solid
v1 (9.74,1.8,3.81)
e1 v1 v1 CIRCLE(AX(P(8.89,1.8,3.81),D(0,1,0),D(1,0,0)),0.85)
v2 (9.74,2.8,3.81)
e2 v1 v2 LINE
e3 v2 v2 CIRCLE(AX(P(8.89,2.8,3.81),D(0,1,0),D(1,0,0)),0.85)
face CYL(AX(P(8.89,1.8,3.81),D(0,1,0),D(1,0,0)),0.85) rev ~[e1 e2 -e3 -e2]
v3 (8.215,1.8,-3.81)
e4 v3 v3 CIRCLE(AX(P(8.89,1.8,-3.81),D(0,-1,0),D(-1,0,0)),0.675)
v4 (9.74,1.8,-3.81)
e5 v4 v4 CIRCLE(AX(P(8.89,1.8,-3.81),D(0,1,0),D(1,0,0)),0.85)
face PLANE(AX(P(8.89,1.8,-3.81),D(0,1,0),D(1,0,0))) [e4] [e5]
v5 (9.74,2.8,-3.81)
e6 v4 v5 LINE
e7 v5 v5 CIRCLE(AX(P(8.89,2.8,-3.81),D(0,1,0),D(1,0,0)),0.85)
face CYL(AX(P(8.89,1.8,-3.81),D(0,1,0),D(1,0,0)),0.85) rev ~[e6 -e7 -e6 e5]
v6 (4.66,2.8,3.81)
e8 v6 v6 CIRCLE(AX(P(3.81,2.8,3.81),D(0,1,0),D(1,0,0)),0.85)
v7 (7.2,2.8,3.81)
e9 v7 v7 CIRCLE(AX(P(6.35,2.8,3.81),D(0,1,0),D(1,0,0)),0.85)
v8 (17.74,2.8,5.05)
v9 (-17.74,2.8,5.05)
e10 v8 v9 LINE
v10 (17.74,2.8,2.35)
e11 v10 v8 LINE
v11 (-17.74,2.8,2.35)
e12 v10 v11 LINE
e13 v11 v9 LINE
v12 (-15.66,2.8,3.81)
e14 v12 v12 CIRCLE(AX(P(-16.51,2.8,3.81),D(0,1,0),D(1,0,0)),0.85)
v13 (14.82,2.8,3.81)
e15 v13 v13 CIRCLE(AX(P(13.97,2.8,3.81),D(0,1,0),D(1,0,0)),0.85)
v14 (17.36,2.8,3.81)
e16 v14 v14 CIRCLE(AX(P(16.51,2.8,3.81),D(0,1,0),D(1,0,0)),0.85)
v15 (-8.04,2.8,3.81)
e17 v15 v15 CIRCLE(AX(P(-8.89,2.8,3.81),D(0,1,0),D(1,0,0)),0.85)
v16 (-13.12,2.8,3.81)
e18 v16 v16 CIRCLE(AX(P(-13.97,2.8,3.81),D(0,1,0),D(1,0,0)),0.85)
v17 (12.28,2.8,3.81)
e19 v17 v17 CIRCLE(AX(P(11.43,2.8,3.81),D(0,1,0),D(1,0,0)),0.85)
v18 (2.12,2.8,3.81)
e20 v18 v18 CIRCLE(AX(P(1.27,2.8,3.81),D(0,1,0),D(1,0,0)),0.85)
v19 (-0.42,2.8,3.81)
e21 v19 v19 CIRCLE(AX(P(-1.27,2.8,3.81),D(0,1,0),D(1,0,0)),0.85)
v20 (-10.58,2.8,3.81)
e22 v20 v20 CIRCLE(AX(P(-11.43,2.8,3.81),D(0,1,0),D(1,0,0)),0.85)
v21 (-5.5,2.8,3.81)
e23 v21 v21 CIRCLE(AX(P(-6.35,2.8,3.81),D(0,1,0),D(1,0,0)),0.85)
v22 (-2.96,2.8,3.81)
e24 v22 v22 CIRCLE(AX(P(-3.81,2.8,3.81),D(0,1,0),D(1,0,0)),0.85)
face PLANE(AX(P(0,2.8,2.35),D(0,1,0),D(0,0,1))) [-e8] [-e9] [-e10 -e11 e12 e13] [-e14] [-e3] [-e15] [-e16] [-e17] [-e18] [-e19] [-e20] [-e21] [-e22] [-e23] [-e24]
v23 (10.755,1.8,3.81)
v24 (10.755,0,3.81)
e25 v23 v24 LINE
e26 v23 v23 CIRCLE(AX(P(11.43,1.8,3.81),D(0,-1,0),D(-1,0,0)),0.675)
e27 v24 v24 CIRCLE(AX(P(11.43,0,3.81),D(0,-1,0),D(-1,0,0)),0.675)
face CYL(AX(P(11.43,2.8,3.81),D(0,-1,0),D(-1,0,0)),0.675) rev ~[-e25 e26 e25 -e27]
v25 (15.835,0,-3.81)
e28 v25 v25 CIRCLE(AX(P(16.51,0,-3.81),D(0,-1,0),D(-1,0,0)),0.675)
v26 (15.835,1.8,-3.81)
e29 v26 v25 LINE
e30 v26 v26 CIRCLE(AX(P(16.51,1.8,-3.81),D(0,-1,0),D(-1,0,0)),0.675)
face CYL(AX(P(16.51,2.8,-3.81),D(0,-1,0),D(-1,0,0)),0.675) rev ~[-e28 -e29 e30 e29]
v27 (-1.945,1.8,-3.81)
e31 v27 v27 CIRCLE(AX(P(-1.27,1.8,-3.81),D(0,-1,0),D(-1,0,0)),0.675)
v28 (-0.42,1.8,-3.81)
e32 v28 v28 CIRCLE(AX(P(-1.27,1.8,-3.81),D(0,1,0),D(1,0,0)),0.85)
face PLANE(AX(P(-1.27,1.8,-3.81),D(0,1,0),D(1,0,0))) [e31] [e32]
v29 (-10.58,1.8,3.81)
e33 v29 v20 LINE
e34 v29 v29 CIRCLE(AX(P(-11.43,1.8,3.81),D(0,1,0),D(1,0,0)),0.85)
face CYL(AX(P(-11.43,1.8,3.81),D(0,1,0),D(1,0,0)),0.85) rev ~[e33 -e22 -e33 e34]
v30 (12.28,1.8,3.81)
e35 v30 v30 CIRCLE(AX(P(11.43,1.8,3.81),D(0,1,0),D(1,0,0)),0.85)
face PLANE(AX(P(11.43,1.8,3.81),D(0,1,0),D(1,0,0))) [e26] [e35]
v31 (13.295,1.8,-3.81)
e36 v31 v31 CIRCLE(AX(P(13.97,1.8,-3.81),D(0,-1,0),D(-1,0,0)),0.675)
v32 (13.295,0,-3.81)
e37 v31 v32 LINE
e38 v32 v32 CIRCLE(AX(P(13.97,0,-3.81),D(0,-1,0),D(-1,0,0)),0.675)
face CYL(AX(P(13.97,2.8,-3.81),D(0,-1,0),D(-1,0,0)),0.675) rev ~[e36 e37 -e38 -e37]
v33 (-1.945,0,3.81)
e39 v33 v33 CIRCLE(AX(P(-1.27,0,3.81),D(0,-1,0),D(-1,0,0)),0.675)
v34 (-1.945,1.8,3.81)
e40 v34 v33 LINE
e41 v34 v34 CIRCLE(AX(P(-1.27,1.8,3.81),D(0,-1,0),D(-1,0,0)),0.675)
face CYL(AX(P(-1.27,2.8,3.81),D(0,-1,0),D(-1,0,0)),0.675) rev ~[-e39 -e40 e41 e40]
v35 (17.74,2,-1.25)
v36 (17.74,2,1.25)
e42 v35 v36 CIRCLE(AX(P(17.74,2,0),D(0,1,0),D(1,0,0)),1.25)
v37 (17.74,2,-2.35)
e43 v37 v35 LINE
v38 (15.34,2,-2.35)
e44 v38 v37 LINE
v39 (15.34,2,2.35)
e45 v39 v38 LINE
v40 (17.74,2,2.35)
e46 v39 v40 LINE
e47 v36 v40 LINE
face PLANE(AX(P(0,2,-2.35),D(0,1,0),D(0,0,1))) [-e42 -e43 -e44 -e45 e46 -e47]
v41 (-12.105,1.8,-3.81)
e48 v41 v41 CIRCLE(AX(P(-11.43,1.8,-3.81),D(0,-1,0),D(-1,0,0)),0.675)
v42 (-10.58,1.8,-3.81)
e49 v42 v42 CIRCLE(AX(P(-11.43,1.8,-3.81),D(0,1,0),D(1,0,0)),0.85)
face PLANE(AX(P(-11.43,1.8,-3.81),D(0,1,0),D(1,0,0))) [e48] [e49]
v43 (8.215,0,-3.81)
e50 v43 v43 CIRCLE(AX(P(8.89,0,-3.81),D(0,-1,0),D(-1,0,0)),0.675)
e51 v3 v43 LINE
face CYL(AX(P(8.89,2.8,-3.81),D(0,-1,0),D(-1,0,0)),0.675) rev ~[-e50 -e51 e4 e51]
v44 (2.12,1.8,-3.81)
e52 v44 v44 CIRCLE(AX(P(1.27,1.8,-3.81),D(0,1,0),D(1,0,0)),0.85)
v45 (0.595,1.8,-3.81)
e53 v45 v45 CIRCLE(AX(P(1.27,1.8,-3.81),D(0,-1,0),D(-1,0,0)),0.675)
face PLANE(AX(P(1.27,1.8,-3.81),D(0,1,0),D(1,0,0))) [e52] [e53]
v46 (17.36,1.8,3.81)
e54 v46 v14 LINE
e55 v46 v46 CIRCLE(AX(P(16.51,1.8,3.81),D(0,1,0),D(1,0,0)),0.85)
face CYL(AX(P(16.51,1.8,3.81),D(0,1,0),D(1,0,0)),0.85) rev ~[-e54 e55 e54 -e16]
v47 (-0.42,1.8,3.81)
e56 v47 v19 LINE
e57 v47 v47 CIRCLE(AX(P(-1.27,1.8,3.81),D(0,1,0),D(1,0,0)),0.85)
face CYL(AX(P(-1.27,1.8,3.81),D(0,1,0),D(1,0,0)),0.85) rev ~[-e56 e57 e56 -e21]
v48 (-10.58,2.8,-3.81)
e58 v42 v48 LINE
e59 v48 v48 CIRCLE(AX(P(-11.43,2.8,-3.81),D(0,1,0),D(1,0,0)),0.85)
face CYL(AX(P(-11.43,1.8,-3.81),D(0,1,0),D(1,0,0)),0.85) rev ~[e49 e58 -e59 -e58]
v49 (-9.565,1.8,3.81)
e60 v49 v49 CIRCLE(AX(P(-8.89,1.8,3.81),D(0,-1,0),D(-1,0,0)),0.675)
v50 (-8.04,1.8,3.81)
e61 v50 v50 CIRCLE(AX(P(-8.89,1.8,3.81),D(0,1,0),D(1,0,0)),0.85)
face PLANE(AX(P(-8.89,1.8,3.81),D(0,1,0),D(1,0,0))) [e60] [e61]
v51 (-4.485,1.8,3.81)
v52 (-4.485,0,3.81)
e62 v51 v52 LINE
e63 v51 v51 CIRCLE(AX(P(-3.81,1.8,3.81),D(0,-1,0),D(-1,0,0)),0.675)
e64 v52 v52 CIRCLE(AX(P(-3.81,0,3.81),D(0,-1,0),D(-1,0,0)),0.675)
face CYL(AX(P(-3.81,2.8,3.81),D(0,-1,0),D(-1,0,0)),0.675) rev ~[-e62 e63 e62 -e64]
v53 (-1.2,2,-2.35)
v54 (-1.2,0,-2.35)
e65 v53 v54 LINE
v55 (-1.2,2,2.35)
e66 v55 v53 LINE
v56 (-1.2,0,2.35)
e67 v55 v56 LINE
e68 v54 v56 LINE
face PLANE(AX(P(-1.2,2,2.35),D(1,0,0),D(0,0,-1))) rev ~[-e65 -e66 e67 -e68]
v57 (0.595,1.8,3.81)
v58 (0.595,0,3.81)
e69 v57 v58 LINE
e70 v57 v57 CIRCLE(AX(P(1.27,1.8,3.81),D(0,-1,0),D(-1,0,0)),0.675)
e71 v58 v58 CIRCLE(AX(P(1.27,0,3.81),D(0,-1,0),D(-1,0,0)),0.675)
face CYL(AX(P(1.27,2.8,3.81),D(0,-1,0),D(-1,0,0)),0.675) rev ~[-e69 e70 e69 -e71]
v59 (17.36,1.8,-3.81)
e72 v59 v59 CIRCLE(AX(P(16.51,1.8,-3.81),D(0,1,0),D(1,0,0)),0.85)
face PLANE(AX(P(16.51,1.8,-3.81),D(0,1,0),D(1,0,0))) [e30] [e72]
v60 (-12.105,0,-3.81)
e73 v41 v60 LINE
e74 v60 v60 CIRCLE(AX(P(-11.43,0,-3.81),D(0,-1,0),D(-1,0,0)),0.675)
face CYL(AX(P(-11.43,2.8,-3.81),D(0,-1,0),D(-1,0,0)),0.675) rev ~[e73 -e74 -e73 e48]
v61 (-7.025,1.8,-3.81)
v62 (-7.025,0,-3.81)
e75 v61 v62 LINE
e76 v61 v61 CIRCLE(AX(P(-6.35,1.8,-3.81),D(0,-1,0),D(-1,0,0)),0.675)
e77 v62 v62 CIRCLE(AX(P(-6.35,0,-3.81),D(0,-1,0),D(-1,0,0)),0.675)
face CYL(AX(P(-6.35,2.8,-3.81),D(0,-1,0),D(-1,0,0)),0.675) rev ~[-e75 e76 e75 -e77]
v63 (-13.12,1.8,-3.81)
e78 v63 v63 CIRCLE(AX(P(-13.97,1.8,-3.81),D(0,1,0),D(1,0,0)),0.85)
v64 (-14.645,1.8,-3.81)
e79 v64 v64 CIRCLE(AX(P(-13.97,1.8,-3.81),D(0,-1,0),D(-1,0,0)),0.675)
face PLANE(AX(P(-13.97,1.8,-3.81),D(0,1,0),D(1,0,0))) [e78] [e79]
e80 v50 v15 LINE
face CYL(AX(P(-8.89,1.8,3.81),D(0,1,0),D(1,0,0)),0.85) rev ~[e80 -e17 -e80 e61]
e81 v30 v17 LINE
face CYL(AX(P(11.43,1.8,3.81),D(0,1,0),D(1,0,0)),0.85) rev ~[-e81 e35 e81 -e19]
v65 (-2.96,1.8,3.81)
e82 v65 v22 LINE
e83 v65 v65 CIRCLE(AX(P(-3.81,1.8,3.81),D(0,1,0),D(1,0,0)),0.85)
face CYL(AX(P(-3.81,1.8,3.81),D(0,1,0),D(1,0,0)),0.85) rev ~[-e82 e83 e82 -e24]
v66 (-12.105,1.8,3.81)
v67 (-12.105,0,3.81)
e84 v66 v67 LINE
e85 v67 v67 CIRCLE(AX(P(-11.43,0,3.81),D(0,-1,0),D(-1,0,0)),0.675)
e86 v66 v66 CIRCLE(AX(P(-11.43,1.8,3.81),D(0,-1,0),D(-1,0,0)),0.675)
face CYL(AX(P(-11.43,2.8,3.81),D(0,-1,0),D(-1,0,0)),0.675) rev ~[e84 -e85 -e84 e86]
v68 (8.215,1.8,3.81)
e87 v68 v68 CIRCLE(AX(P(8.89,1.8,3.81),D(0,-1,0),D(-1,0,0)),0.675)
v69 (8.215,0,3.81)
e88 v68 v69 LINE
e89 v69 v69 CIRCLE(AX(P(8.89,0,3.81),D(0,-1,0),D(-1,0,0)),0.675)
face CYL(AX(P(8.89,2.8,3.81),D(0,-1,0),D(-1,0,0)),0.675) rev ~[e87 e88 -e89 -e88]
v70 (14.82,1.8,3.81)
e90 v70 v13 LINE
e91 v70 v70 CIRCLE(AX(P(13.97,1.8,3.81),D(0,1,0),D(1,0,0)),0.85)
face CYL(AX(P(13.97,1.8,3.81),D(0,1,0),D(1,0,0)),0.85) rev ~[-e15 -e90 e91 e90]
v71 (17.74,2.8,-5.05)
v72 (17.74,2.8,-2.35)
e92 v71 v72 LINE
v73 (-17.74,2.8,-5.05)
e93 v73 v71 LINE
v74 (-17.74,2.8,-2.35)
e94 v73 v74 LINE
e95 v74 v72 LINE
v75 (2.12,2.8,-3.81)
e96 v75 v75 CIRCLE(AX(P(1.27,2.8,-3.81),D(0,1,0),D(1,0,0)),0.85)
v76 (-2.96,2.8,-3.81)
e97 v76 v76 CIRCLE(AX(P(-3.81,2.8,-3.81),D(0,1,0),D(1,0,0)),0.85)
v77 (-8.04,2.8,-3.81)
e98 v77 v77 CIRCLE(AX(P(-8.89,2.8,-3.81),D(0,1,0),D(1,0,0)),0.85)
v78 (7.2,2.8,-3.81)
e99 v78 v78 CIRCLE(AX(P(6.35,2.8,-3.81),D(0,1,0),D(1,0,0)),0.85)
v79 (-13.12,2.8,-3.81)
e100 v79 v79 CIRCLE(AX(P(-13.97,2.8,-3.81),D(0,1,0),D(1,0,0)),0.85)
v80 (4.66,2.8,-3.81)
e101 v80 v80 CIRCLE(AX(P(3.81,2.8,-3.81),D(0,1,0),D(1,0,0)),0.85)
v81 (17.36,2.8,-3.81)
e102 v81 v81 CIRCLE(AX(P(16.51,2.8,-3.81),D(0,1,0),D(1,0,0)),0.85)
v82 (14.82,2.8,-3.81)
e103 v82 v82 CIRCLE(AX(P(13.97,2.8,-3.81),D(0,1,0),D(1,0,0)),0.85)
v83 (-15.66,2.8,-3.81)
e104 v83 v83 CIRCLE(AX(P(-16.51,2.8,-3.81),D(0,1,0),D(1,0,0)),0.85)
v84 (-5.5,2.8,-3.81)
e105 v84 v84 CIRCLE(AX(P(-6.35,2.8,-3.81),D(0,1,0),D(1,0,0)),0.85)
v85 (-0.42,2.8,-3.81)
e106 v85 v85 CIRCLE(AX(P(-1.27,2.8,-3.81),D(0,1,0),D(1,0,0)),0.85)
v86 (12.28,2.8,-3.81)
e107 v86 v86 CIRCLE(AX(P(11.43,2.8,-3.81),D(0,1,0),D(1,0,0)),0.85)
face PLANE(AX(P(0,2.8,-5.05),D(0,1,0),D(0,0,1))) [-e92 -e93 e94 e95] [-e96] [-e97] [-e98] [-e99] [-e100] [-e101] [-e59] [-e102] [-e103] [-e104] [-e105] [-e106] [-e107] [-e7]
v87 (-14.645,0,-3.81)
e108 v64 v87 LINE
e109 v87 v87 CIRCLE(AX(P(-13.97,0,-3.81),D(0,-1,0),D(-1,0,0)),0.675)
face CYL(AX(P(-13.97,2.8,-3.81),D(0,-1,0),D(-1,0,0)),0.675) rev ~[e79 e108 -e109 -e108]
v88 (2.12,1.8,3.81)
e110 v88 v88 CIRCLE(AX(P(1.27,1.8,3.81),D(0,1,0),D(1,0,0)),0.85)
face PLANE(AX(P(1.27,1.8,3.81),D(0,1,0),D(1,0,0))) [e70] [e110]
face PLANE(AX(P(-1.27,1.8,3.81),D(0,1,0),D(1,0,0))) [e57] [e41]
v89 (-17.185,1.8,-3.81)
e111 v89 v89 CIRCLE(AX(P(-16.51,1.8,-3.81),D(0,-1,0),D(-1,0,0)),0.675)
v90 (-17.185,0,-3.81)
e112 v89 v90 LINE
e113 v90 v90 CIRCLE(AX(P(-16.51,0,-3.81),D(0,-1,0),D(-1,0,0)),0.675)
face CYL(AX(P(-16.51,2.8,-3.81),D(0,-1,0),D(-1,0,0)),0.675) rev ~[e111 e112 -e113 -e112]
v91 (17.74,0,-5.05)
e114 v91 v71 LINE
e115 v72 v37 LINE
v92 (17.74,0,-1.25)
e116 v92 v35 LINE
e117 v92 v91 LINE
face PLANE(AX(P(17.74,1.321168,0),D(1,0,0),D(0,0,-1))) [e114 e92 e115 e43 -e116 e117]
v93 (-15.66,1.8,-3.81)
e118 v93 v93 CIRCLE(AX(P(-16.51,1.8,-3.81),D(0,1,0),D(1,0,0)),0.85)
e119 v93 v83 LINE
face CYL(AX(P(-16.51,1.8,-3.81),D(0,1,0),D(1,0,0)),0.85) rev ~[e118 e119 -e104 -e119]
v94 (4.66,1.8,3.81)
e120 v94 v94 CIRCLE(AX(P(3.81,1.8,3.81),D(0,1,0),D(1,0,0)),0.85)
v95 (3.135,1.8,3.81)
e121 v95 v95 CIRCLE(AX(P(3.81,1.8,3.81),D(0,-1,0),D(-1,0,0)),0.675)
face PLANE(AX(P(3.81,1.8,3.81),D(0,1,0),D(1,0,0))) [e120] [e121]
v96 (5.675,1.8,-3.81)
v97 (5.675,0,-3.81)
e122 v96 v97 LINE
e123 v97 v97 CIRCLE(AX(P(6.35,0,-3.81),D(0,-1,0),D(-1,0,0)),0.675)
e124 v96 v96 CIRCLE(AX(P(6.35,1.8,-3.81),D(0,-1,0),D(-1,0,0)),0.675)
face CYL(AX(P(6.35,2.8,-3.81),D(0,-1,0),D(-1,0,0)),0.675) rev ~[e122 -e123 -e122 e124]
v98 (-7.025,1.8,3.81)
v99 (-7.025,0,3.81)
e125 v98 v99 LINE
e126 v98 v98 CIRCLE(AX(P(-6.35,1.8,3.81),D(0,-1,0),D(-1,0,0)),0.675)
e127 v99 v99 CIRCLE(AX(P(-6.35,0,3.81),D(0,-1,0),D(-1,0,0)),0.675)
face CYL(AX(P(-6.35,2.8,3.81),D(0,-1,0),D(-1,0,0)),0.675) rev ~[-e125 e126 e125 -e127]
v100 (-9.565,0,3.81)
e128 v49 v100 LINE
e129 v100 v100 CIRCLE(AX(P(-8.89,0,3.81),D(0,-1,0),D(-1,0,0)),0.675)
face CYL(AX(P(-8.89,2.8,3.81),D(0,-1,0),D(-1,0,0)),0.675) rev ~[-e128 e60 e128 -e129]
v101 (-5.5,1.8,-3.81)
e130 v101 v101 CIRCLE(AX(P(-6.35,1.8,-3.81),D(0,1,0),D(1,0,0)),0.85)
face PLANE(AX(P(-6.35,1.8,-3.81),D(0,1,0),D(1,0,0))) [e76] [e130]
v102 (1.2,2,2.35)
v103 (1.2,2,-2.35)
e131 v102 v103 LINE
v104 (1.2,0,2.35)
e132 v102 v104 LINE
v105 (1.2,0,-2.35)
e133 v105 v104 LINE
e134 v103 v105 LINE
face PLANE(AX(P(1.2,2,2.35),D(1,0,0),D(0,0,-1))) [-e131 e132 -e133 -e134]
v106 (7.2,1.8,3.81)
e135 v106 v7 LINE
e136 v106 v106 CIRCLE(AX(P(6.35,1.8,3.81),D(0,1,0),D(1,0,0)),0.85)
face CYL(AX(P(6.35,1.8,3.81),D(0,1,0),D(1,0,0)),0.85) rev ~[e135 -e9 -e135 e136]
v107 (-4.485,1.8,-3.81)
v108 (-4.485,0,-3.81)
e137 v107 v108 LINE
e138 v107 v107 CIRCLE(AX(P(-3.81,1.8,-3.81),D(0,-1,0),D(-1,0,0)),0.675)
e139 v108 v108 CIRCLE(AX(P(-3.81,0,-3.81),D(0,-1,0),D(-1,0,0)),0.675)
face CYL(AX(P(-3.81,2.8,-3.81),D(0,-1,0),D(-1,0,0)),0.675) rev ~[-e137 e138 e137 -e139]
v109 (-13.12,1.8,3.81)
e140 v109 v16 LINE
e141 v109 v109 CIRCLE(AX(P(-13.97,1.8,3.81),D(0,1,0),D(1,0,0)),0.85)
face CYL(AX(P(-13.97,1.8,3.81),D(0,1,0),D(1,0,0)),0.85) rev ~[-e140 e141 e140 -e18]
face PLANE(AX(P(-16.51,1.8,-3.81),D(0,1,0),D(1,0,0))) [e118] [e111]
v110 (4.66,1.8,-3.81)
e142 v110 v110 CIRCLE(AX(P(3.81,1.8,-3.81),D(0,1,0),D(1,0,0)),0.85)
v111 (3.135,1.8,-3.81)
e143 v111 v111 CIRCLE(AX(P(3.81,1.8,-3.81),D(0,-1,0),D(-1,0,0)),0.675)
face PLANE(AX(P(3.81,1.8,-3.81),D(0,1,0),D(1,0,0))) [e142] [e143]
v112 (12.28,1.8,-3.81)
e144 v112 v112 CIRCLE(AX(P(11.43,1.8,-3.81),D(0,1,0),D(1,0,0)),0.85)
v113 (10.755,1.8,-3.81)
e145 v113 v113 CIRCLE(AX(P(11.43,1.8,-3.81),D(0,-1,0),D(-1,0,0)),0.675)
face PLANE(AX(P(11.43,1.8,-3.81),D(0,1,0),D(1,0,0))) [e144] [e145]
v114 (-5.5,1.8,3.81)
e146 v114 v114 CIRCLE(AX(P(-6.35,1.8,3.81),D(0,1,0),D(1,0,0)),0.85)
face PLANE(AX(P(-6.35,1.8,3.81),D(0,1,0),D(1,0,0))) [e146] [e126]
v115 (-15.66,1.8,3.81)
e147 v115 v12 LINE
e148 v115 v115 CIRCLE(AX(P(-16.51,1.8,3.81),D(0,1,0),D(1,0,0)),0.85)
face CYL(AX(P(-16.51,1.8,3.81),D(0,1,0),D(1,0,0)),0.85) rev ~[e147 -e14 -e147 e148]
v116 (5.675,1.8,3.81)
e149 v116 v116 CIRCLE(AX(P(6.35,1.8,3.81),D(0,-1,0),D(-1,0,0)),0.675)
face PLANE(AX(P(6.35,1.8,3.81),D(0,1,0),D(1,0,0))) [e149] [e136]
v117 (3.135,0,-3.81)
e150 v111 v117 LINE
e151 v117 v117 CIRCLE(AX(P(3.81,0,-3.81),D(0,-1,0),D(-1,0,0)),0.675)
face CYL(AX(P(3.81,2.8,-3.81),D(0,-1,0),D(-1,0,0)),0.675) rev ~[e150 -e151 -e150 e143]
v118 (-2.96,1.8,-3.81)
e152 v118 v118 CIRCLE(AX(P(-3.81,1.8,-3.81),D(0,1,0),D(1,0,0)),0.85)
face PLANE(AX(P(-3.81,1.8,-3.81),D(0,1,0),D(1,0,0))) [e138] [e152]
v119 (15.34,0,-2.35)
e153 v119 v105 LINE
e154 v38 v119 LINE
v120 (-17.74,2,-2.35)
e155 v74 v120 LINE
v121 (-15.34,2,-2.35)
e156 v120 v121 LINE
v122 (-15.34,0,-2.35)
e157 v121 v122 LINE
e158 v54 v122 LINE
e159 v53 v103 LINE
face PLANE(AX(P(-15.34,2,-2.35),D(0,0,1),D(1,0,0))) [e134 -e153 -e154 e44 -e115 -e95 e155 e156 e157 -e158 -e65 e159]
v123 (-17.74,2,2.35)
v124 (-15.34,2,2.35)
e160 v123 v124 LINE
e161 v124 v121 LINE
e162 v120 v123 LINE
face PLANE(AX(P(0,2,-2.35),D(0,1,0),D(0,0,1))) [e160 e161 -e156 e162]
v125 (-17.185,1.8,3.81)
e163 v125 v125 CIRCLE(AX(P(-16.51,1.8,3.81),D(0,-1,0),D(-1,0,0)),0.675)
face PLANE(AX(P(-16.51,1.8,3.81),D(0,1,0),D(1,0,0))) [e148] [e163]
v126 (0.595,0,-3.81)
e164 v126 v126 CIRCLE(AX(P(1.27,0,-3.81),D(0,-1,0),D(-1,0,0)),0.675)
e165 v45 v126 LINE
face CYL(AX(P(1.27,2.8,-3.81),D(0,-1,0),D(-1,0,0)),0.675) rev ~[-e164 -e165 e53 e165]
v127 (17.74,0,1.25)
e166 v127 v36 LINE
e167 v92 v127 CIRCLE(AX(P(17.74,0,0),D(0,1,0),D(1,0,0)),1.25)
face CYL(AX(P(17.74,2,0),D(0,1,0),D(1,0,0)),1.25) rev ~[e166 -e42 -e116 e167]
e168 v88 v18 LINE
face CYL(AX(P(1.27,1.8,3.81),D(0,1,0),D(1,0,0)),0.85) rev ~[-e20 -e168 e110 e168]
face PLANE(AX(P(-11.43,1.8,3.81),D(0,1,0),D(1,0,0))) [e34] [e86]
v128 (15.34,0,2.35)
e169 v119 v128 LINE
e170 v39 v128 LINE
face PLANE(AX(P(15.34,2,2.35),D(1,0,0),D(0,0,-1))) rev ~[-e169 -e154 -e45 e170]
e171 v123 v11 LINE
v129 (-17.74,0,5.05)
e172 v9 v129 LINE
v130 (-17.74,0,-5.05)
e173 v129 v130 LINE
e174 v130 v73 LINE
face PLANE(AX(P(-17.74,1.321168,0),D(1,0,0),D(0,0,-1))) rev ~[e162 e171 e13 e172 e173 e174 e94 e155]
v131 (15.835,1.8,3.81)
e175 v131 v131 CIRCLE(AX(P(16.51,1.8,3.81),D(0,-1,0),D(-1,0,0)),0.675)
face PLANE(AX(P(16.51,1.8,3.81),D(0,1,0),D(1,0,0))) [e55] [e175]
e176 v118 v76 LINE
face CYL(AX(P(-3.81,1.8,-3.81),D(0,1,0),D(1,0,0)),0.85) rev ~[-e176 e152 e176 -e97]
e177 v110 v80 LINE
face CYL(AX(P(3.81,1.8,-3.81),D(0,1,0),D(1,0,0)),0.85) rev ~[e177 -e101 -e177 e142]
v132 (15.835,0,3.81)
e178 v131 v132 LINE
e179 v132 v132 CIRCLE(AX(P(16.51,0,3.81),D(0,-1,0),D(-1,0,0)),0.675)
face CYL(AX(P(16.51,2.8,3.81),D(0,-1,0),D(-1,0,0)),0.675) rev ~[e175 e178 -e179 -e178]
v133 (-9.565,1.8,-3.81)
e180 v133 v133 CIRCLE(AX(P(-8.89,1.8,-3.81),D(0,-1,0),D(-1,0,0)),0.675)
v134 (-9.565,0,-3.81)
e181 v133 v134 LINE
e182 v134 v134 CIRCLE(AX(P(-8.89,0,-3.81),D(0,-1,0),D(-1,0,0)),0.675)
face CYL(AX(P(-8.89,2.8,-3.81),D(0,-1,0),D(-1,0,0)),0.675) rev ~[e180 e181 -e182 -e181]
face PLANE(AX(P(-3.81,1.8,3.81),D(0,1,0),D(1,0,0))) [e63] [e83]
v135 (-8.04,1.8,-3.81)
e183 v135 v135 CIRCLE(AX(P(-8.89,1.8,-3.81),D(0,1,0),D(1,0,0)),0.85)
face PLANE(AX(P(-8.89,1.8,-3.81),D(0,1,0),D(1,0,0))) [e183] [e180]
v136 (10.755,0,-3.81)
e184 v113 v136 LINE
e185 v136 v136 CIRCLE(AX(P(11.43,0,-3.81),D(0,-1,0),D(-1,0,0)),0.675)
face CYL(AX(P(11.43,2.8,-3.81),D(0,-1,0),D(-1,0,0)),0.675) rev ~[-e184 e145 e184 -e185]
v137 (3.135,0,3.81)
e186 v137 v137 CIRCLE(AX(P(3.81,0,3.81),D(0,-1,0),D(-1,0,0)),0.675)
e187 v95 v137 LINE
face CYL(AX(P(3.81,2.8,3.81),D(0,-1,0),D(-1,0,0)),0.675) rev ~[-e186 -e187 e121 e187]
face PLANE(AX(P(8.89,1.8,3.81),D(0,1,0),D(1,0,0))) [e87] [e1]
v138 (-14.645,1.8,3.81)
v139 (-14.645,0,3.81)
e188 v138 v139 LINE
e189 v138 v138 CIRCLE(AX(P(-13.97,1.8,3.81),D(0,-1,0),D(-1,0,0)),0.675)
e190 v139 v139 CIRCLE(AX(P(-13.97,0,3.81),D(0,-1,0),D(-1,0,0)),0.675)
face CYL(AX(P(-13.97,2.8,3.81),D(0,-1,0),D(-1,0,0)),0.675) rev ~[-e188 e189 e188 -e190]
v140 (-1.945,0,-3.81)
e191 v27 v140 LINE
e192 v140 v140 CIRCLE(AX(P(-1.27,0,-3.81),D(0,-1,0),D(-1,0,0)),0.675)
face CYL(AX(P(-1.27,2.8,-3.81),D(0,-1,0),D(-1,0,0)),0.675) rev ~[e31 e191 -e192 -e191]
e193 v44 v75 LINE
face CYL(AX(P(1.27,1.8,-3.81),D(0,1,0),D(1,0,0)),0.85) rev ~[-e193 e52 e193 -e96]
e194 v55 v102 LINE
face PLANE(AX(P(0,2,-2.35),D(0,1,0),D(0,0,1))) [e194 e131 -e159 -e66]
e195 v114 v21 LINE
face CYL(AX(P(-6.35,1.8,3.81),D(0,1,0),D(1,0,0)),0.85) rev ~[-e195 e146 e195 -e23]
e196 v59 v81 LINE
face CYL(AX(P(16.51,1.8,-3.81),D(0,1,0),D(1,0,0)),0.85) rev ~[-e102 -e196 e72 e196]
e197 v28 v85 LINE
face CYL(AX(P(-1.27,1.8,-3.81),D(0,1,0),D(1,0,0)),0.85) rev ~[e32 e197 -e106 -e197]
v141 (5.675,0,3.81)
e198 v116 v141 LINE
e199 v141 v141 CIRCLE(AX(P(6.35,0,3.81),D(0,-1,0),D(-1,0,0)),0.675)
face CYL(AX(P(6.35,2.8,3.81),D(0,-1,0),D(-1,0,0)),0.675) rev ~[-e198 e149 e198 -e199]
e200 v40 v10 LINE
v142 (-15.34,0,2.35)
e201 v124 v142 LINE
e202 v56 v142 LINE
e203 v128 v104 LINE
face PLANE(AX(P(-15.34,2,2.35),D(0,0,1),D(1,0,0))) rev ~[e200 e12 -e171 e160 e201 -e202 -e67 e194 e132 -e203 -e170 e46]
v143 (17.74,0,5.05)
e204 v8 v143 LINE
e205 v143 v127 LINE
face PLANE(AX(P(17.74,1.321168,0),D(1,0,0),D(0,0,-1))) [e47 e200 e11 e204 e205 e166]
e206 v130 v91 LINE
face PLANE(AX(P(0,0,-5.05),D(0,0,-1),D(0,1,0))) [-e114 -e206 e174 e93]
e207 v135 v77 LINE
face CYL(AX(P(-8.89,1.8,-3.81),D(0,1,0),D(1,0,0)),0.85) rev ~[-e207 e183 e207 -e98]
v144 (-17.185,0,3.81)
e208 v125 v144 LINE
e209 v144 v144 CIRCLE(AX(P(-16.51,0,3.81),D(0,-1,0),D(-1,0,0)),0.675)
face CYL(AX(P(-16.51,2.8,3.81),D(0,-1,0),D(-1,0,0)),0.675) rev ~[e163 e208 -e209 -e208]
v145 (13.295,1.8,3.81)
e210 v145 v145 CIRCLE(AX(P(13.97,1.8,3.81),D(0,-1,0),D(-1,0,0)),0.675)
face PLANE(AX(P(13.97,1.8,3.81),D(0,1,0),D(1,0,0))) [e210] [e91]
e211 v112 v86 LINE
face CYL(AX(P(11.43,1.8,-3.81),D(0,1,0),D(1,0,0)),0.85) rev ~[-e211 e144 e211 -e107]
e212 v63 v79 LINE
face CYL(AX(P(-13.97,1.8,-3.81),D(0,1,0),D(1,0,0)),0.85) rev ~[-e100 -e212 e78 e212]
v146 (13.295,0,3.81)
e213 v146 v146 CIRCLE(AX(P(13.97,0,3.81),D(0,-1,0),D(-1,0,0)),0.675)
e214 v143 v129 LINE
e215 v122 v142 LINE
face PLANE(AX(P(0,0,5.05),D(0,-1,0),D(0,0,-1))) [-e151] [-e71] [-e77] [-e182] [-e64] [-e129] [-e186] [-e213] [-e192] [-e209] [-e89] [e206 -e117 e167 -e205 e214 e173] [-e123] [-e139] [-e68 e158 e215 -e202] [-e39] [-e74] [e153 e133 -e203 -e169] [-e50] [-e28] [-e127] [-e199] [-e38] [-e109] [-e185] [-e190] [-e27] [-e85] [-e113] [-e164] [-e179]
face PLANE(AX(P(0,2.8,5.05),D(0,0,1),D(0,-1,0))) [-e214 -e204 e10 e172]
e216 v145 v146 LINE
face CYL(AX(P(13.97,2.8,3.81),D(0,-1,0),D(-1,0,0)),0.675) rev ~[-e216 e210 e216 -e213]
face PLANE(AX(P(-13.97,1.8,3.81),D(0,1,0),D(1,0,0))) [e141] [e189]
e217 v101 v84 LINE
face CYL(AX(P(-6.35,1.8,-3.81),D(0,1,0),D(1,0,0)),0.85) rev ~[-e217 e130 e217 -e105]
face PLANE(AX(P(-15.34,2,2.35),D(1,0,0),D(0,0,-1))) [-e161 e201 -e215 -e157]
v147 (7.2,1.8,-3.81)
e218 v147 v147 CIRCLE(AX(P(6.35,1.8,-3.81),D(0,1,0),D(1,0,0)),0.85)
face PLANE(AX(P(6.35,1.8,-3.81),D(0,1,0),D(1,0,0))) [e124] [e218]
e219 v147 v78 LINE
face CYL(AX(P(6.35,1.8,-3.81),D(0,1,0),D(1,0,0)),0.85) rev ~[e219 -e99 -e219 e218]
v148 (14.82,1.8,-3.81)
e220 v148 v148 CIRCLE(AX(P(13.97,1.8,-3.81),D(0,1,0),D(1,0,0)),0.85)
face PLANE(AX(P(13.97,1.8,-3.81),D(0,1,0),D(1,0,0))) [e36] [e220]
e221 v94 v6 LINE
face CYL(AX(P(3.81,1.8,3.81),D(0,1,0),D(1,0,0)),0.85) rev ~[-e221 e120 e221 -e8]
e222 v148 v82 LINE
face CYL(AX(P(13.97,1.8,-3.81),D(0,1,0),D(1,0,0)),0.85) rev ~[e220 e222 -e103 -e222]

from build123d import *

# Parameters (mm, degrees)
BOSS_EXTRUDE1_DEPTH  = 17.74
SKETCH2_W            = 14.14
SKETCH2_H            = 4.7
CUT_EXTRUDE1_DEPTH   = 35.5
SKETCH3_R            = 1.25
CUT_EXTRUDE2_DEPTH   = 35.5
HOLE_D               = 1.35
HOLE_CBORE_D         = 1.7
HOLE_CBORE_DEPTH     = 1
LPATTERN1_COUNT      = 14
LPATTERN1_PITCH      = 2.54
LPATTERN1_COUNT_DIR2 = 2
LPATTERN1_PITCH_DIR2 = 7.62


with BuildPart() as part:
    # Sketch1 → Boss-Extrude1 (new body, symmetric)
    with BuildSketch(Plane(origin=(0, 0, 0), x_dir=(0, 0, -1), z_dir=(1, 0, 0))):
        Polygon((-5.05, 0), (5.05, 0), (5.05, 2.8), (2.35, 2.8), (2.35, 2), (-2.35, 2), (-2.35, 2.8), (-5.05, 2.8), align=None)
    extrude(amount=BOSS_EXTRUDE1_DEPTH, both=True)

    # Sketch2 → Cut-Extrude1 (cut)
    with BuildSketch(Plane(origin=(0, 2, 0), x_dir=(1, 0, 0), z_dir=(0, 1, 0))):
        with Locations((-8.27, 0)):
            Rectangle(SKETCH2_W, SKETCH2_H)
        with Locations((8.27, 0)):
            Rectangle(SKETCH2_W, SKETCH2_H)
    extrude(amount=-CUT_EXTRUDE1_DEPTH, mode=Mode.SUBTRACT)

    # Sketch3 → Cut-Extrude2 (cut)
    with BuildSketch(Plane(origin=(0, 2, 0), x_dir=(1, 0, 0), z_dir=(0, 1, 0))):
        with Locations((17.74, 0)):
            Circle(SKETCH3_R)
    extrude(amount=-CUT_EXTRUDE2_DEPTH, mode=Mode.SUBTRACT)

    # hole (through all)
    with Locations(Plane(origin=(0, 2.8, 0), x_dir=(1, 0, 0), z_dir=(0, 1, 0))):
        with Locations((16.51, 3.81)):
            hole = CounterBoreHole(HOLE_D / 2, HOLE_CBORE_D / 2, HOLE_CBORE_DEPTH)

    # LPattern1: hole 14 × 2
    with Locations(*[(-i * LPATTERN1_PITCH, 0, j * LPATTERN1_PITCH_DIR2) for i in range(LPATTERN1_COUNT) for j in range(LPATTERN1_COUNT_DIR2) if (i, j) != (0, 0)]):
        add(hole, mode=Mode.SUBTRACT)


solid = part.part
